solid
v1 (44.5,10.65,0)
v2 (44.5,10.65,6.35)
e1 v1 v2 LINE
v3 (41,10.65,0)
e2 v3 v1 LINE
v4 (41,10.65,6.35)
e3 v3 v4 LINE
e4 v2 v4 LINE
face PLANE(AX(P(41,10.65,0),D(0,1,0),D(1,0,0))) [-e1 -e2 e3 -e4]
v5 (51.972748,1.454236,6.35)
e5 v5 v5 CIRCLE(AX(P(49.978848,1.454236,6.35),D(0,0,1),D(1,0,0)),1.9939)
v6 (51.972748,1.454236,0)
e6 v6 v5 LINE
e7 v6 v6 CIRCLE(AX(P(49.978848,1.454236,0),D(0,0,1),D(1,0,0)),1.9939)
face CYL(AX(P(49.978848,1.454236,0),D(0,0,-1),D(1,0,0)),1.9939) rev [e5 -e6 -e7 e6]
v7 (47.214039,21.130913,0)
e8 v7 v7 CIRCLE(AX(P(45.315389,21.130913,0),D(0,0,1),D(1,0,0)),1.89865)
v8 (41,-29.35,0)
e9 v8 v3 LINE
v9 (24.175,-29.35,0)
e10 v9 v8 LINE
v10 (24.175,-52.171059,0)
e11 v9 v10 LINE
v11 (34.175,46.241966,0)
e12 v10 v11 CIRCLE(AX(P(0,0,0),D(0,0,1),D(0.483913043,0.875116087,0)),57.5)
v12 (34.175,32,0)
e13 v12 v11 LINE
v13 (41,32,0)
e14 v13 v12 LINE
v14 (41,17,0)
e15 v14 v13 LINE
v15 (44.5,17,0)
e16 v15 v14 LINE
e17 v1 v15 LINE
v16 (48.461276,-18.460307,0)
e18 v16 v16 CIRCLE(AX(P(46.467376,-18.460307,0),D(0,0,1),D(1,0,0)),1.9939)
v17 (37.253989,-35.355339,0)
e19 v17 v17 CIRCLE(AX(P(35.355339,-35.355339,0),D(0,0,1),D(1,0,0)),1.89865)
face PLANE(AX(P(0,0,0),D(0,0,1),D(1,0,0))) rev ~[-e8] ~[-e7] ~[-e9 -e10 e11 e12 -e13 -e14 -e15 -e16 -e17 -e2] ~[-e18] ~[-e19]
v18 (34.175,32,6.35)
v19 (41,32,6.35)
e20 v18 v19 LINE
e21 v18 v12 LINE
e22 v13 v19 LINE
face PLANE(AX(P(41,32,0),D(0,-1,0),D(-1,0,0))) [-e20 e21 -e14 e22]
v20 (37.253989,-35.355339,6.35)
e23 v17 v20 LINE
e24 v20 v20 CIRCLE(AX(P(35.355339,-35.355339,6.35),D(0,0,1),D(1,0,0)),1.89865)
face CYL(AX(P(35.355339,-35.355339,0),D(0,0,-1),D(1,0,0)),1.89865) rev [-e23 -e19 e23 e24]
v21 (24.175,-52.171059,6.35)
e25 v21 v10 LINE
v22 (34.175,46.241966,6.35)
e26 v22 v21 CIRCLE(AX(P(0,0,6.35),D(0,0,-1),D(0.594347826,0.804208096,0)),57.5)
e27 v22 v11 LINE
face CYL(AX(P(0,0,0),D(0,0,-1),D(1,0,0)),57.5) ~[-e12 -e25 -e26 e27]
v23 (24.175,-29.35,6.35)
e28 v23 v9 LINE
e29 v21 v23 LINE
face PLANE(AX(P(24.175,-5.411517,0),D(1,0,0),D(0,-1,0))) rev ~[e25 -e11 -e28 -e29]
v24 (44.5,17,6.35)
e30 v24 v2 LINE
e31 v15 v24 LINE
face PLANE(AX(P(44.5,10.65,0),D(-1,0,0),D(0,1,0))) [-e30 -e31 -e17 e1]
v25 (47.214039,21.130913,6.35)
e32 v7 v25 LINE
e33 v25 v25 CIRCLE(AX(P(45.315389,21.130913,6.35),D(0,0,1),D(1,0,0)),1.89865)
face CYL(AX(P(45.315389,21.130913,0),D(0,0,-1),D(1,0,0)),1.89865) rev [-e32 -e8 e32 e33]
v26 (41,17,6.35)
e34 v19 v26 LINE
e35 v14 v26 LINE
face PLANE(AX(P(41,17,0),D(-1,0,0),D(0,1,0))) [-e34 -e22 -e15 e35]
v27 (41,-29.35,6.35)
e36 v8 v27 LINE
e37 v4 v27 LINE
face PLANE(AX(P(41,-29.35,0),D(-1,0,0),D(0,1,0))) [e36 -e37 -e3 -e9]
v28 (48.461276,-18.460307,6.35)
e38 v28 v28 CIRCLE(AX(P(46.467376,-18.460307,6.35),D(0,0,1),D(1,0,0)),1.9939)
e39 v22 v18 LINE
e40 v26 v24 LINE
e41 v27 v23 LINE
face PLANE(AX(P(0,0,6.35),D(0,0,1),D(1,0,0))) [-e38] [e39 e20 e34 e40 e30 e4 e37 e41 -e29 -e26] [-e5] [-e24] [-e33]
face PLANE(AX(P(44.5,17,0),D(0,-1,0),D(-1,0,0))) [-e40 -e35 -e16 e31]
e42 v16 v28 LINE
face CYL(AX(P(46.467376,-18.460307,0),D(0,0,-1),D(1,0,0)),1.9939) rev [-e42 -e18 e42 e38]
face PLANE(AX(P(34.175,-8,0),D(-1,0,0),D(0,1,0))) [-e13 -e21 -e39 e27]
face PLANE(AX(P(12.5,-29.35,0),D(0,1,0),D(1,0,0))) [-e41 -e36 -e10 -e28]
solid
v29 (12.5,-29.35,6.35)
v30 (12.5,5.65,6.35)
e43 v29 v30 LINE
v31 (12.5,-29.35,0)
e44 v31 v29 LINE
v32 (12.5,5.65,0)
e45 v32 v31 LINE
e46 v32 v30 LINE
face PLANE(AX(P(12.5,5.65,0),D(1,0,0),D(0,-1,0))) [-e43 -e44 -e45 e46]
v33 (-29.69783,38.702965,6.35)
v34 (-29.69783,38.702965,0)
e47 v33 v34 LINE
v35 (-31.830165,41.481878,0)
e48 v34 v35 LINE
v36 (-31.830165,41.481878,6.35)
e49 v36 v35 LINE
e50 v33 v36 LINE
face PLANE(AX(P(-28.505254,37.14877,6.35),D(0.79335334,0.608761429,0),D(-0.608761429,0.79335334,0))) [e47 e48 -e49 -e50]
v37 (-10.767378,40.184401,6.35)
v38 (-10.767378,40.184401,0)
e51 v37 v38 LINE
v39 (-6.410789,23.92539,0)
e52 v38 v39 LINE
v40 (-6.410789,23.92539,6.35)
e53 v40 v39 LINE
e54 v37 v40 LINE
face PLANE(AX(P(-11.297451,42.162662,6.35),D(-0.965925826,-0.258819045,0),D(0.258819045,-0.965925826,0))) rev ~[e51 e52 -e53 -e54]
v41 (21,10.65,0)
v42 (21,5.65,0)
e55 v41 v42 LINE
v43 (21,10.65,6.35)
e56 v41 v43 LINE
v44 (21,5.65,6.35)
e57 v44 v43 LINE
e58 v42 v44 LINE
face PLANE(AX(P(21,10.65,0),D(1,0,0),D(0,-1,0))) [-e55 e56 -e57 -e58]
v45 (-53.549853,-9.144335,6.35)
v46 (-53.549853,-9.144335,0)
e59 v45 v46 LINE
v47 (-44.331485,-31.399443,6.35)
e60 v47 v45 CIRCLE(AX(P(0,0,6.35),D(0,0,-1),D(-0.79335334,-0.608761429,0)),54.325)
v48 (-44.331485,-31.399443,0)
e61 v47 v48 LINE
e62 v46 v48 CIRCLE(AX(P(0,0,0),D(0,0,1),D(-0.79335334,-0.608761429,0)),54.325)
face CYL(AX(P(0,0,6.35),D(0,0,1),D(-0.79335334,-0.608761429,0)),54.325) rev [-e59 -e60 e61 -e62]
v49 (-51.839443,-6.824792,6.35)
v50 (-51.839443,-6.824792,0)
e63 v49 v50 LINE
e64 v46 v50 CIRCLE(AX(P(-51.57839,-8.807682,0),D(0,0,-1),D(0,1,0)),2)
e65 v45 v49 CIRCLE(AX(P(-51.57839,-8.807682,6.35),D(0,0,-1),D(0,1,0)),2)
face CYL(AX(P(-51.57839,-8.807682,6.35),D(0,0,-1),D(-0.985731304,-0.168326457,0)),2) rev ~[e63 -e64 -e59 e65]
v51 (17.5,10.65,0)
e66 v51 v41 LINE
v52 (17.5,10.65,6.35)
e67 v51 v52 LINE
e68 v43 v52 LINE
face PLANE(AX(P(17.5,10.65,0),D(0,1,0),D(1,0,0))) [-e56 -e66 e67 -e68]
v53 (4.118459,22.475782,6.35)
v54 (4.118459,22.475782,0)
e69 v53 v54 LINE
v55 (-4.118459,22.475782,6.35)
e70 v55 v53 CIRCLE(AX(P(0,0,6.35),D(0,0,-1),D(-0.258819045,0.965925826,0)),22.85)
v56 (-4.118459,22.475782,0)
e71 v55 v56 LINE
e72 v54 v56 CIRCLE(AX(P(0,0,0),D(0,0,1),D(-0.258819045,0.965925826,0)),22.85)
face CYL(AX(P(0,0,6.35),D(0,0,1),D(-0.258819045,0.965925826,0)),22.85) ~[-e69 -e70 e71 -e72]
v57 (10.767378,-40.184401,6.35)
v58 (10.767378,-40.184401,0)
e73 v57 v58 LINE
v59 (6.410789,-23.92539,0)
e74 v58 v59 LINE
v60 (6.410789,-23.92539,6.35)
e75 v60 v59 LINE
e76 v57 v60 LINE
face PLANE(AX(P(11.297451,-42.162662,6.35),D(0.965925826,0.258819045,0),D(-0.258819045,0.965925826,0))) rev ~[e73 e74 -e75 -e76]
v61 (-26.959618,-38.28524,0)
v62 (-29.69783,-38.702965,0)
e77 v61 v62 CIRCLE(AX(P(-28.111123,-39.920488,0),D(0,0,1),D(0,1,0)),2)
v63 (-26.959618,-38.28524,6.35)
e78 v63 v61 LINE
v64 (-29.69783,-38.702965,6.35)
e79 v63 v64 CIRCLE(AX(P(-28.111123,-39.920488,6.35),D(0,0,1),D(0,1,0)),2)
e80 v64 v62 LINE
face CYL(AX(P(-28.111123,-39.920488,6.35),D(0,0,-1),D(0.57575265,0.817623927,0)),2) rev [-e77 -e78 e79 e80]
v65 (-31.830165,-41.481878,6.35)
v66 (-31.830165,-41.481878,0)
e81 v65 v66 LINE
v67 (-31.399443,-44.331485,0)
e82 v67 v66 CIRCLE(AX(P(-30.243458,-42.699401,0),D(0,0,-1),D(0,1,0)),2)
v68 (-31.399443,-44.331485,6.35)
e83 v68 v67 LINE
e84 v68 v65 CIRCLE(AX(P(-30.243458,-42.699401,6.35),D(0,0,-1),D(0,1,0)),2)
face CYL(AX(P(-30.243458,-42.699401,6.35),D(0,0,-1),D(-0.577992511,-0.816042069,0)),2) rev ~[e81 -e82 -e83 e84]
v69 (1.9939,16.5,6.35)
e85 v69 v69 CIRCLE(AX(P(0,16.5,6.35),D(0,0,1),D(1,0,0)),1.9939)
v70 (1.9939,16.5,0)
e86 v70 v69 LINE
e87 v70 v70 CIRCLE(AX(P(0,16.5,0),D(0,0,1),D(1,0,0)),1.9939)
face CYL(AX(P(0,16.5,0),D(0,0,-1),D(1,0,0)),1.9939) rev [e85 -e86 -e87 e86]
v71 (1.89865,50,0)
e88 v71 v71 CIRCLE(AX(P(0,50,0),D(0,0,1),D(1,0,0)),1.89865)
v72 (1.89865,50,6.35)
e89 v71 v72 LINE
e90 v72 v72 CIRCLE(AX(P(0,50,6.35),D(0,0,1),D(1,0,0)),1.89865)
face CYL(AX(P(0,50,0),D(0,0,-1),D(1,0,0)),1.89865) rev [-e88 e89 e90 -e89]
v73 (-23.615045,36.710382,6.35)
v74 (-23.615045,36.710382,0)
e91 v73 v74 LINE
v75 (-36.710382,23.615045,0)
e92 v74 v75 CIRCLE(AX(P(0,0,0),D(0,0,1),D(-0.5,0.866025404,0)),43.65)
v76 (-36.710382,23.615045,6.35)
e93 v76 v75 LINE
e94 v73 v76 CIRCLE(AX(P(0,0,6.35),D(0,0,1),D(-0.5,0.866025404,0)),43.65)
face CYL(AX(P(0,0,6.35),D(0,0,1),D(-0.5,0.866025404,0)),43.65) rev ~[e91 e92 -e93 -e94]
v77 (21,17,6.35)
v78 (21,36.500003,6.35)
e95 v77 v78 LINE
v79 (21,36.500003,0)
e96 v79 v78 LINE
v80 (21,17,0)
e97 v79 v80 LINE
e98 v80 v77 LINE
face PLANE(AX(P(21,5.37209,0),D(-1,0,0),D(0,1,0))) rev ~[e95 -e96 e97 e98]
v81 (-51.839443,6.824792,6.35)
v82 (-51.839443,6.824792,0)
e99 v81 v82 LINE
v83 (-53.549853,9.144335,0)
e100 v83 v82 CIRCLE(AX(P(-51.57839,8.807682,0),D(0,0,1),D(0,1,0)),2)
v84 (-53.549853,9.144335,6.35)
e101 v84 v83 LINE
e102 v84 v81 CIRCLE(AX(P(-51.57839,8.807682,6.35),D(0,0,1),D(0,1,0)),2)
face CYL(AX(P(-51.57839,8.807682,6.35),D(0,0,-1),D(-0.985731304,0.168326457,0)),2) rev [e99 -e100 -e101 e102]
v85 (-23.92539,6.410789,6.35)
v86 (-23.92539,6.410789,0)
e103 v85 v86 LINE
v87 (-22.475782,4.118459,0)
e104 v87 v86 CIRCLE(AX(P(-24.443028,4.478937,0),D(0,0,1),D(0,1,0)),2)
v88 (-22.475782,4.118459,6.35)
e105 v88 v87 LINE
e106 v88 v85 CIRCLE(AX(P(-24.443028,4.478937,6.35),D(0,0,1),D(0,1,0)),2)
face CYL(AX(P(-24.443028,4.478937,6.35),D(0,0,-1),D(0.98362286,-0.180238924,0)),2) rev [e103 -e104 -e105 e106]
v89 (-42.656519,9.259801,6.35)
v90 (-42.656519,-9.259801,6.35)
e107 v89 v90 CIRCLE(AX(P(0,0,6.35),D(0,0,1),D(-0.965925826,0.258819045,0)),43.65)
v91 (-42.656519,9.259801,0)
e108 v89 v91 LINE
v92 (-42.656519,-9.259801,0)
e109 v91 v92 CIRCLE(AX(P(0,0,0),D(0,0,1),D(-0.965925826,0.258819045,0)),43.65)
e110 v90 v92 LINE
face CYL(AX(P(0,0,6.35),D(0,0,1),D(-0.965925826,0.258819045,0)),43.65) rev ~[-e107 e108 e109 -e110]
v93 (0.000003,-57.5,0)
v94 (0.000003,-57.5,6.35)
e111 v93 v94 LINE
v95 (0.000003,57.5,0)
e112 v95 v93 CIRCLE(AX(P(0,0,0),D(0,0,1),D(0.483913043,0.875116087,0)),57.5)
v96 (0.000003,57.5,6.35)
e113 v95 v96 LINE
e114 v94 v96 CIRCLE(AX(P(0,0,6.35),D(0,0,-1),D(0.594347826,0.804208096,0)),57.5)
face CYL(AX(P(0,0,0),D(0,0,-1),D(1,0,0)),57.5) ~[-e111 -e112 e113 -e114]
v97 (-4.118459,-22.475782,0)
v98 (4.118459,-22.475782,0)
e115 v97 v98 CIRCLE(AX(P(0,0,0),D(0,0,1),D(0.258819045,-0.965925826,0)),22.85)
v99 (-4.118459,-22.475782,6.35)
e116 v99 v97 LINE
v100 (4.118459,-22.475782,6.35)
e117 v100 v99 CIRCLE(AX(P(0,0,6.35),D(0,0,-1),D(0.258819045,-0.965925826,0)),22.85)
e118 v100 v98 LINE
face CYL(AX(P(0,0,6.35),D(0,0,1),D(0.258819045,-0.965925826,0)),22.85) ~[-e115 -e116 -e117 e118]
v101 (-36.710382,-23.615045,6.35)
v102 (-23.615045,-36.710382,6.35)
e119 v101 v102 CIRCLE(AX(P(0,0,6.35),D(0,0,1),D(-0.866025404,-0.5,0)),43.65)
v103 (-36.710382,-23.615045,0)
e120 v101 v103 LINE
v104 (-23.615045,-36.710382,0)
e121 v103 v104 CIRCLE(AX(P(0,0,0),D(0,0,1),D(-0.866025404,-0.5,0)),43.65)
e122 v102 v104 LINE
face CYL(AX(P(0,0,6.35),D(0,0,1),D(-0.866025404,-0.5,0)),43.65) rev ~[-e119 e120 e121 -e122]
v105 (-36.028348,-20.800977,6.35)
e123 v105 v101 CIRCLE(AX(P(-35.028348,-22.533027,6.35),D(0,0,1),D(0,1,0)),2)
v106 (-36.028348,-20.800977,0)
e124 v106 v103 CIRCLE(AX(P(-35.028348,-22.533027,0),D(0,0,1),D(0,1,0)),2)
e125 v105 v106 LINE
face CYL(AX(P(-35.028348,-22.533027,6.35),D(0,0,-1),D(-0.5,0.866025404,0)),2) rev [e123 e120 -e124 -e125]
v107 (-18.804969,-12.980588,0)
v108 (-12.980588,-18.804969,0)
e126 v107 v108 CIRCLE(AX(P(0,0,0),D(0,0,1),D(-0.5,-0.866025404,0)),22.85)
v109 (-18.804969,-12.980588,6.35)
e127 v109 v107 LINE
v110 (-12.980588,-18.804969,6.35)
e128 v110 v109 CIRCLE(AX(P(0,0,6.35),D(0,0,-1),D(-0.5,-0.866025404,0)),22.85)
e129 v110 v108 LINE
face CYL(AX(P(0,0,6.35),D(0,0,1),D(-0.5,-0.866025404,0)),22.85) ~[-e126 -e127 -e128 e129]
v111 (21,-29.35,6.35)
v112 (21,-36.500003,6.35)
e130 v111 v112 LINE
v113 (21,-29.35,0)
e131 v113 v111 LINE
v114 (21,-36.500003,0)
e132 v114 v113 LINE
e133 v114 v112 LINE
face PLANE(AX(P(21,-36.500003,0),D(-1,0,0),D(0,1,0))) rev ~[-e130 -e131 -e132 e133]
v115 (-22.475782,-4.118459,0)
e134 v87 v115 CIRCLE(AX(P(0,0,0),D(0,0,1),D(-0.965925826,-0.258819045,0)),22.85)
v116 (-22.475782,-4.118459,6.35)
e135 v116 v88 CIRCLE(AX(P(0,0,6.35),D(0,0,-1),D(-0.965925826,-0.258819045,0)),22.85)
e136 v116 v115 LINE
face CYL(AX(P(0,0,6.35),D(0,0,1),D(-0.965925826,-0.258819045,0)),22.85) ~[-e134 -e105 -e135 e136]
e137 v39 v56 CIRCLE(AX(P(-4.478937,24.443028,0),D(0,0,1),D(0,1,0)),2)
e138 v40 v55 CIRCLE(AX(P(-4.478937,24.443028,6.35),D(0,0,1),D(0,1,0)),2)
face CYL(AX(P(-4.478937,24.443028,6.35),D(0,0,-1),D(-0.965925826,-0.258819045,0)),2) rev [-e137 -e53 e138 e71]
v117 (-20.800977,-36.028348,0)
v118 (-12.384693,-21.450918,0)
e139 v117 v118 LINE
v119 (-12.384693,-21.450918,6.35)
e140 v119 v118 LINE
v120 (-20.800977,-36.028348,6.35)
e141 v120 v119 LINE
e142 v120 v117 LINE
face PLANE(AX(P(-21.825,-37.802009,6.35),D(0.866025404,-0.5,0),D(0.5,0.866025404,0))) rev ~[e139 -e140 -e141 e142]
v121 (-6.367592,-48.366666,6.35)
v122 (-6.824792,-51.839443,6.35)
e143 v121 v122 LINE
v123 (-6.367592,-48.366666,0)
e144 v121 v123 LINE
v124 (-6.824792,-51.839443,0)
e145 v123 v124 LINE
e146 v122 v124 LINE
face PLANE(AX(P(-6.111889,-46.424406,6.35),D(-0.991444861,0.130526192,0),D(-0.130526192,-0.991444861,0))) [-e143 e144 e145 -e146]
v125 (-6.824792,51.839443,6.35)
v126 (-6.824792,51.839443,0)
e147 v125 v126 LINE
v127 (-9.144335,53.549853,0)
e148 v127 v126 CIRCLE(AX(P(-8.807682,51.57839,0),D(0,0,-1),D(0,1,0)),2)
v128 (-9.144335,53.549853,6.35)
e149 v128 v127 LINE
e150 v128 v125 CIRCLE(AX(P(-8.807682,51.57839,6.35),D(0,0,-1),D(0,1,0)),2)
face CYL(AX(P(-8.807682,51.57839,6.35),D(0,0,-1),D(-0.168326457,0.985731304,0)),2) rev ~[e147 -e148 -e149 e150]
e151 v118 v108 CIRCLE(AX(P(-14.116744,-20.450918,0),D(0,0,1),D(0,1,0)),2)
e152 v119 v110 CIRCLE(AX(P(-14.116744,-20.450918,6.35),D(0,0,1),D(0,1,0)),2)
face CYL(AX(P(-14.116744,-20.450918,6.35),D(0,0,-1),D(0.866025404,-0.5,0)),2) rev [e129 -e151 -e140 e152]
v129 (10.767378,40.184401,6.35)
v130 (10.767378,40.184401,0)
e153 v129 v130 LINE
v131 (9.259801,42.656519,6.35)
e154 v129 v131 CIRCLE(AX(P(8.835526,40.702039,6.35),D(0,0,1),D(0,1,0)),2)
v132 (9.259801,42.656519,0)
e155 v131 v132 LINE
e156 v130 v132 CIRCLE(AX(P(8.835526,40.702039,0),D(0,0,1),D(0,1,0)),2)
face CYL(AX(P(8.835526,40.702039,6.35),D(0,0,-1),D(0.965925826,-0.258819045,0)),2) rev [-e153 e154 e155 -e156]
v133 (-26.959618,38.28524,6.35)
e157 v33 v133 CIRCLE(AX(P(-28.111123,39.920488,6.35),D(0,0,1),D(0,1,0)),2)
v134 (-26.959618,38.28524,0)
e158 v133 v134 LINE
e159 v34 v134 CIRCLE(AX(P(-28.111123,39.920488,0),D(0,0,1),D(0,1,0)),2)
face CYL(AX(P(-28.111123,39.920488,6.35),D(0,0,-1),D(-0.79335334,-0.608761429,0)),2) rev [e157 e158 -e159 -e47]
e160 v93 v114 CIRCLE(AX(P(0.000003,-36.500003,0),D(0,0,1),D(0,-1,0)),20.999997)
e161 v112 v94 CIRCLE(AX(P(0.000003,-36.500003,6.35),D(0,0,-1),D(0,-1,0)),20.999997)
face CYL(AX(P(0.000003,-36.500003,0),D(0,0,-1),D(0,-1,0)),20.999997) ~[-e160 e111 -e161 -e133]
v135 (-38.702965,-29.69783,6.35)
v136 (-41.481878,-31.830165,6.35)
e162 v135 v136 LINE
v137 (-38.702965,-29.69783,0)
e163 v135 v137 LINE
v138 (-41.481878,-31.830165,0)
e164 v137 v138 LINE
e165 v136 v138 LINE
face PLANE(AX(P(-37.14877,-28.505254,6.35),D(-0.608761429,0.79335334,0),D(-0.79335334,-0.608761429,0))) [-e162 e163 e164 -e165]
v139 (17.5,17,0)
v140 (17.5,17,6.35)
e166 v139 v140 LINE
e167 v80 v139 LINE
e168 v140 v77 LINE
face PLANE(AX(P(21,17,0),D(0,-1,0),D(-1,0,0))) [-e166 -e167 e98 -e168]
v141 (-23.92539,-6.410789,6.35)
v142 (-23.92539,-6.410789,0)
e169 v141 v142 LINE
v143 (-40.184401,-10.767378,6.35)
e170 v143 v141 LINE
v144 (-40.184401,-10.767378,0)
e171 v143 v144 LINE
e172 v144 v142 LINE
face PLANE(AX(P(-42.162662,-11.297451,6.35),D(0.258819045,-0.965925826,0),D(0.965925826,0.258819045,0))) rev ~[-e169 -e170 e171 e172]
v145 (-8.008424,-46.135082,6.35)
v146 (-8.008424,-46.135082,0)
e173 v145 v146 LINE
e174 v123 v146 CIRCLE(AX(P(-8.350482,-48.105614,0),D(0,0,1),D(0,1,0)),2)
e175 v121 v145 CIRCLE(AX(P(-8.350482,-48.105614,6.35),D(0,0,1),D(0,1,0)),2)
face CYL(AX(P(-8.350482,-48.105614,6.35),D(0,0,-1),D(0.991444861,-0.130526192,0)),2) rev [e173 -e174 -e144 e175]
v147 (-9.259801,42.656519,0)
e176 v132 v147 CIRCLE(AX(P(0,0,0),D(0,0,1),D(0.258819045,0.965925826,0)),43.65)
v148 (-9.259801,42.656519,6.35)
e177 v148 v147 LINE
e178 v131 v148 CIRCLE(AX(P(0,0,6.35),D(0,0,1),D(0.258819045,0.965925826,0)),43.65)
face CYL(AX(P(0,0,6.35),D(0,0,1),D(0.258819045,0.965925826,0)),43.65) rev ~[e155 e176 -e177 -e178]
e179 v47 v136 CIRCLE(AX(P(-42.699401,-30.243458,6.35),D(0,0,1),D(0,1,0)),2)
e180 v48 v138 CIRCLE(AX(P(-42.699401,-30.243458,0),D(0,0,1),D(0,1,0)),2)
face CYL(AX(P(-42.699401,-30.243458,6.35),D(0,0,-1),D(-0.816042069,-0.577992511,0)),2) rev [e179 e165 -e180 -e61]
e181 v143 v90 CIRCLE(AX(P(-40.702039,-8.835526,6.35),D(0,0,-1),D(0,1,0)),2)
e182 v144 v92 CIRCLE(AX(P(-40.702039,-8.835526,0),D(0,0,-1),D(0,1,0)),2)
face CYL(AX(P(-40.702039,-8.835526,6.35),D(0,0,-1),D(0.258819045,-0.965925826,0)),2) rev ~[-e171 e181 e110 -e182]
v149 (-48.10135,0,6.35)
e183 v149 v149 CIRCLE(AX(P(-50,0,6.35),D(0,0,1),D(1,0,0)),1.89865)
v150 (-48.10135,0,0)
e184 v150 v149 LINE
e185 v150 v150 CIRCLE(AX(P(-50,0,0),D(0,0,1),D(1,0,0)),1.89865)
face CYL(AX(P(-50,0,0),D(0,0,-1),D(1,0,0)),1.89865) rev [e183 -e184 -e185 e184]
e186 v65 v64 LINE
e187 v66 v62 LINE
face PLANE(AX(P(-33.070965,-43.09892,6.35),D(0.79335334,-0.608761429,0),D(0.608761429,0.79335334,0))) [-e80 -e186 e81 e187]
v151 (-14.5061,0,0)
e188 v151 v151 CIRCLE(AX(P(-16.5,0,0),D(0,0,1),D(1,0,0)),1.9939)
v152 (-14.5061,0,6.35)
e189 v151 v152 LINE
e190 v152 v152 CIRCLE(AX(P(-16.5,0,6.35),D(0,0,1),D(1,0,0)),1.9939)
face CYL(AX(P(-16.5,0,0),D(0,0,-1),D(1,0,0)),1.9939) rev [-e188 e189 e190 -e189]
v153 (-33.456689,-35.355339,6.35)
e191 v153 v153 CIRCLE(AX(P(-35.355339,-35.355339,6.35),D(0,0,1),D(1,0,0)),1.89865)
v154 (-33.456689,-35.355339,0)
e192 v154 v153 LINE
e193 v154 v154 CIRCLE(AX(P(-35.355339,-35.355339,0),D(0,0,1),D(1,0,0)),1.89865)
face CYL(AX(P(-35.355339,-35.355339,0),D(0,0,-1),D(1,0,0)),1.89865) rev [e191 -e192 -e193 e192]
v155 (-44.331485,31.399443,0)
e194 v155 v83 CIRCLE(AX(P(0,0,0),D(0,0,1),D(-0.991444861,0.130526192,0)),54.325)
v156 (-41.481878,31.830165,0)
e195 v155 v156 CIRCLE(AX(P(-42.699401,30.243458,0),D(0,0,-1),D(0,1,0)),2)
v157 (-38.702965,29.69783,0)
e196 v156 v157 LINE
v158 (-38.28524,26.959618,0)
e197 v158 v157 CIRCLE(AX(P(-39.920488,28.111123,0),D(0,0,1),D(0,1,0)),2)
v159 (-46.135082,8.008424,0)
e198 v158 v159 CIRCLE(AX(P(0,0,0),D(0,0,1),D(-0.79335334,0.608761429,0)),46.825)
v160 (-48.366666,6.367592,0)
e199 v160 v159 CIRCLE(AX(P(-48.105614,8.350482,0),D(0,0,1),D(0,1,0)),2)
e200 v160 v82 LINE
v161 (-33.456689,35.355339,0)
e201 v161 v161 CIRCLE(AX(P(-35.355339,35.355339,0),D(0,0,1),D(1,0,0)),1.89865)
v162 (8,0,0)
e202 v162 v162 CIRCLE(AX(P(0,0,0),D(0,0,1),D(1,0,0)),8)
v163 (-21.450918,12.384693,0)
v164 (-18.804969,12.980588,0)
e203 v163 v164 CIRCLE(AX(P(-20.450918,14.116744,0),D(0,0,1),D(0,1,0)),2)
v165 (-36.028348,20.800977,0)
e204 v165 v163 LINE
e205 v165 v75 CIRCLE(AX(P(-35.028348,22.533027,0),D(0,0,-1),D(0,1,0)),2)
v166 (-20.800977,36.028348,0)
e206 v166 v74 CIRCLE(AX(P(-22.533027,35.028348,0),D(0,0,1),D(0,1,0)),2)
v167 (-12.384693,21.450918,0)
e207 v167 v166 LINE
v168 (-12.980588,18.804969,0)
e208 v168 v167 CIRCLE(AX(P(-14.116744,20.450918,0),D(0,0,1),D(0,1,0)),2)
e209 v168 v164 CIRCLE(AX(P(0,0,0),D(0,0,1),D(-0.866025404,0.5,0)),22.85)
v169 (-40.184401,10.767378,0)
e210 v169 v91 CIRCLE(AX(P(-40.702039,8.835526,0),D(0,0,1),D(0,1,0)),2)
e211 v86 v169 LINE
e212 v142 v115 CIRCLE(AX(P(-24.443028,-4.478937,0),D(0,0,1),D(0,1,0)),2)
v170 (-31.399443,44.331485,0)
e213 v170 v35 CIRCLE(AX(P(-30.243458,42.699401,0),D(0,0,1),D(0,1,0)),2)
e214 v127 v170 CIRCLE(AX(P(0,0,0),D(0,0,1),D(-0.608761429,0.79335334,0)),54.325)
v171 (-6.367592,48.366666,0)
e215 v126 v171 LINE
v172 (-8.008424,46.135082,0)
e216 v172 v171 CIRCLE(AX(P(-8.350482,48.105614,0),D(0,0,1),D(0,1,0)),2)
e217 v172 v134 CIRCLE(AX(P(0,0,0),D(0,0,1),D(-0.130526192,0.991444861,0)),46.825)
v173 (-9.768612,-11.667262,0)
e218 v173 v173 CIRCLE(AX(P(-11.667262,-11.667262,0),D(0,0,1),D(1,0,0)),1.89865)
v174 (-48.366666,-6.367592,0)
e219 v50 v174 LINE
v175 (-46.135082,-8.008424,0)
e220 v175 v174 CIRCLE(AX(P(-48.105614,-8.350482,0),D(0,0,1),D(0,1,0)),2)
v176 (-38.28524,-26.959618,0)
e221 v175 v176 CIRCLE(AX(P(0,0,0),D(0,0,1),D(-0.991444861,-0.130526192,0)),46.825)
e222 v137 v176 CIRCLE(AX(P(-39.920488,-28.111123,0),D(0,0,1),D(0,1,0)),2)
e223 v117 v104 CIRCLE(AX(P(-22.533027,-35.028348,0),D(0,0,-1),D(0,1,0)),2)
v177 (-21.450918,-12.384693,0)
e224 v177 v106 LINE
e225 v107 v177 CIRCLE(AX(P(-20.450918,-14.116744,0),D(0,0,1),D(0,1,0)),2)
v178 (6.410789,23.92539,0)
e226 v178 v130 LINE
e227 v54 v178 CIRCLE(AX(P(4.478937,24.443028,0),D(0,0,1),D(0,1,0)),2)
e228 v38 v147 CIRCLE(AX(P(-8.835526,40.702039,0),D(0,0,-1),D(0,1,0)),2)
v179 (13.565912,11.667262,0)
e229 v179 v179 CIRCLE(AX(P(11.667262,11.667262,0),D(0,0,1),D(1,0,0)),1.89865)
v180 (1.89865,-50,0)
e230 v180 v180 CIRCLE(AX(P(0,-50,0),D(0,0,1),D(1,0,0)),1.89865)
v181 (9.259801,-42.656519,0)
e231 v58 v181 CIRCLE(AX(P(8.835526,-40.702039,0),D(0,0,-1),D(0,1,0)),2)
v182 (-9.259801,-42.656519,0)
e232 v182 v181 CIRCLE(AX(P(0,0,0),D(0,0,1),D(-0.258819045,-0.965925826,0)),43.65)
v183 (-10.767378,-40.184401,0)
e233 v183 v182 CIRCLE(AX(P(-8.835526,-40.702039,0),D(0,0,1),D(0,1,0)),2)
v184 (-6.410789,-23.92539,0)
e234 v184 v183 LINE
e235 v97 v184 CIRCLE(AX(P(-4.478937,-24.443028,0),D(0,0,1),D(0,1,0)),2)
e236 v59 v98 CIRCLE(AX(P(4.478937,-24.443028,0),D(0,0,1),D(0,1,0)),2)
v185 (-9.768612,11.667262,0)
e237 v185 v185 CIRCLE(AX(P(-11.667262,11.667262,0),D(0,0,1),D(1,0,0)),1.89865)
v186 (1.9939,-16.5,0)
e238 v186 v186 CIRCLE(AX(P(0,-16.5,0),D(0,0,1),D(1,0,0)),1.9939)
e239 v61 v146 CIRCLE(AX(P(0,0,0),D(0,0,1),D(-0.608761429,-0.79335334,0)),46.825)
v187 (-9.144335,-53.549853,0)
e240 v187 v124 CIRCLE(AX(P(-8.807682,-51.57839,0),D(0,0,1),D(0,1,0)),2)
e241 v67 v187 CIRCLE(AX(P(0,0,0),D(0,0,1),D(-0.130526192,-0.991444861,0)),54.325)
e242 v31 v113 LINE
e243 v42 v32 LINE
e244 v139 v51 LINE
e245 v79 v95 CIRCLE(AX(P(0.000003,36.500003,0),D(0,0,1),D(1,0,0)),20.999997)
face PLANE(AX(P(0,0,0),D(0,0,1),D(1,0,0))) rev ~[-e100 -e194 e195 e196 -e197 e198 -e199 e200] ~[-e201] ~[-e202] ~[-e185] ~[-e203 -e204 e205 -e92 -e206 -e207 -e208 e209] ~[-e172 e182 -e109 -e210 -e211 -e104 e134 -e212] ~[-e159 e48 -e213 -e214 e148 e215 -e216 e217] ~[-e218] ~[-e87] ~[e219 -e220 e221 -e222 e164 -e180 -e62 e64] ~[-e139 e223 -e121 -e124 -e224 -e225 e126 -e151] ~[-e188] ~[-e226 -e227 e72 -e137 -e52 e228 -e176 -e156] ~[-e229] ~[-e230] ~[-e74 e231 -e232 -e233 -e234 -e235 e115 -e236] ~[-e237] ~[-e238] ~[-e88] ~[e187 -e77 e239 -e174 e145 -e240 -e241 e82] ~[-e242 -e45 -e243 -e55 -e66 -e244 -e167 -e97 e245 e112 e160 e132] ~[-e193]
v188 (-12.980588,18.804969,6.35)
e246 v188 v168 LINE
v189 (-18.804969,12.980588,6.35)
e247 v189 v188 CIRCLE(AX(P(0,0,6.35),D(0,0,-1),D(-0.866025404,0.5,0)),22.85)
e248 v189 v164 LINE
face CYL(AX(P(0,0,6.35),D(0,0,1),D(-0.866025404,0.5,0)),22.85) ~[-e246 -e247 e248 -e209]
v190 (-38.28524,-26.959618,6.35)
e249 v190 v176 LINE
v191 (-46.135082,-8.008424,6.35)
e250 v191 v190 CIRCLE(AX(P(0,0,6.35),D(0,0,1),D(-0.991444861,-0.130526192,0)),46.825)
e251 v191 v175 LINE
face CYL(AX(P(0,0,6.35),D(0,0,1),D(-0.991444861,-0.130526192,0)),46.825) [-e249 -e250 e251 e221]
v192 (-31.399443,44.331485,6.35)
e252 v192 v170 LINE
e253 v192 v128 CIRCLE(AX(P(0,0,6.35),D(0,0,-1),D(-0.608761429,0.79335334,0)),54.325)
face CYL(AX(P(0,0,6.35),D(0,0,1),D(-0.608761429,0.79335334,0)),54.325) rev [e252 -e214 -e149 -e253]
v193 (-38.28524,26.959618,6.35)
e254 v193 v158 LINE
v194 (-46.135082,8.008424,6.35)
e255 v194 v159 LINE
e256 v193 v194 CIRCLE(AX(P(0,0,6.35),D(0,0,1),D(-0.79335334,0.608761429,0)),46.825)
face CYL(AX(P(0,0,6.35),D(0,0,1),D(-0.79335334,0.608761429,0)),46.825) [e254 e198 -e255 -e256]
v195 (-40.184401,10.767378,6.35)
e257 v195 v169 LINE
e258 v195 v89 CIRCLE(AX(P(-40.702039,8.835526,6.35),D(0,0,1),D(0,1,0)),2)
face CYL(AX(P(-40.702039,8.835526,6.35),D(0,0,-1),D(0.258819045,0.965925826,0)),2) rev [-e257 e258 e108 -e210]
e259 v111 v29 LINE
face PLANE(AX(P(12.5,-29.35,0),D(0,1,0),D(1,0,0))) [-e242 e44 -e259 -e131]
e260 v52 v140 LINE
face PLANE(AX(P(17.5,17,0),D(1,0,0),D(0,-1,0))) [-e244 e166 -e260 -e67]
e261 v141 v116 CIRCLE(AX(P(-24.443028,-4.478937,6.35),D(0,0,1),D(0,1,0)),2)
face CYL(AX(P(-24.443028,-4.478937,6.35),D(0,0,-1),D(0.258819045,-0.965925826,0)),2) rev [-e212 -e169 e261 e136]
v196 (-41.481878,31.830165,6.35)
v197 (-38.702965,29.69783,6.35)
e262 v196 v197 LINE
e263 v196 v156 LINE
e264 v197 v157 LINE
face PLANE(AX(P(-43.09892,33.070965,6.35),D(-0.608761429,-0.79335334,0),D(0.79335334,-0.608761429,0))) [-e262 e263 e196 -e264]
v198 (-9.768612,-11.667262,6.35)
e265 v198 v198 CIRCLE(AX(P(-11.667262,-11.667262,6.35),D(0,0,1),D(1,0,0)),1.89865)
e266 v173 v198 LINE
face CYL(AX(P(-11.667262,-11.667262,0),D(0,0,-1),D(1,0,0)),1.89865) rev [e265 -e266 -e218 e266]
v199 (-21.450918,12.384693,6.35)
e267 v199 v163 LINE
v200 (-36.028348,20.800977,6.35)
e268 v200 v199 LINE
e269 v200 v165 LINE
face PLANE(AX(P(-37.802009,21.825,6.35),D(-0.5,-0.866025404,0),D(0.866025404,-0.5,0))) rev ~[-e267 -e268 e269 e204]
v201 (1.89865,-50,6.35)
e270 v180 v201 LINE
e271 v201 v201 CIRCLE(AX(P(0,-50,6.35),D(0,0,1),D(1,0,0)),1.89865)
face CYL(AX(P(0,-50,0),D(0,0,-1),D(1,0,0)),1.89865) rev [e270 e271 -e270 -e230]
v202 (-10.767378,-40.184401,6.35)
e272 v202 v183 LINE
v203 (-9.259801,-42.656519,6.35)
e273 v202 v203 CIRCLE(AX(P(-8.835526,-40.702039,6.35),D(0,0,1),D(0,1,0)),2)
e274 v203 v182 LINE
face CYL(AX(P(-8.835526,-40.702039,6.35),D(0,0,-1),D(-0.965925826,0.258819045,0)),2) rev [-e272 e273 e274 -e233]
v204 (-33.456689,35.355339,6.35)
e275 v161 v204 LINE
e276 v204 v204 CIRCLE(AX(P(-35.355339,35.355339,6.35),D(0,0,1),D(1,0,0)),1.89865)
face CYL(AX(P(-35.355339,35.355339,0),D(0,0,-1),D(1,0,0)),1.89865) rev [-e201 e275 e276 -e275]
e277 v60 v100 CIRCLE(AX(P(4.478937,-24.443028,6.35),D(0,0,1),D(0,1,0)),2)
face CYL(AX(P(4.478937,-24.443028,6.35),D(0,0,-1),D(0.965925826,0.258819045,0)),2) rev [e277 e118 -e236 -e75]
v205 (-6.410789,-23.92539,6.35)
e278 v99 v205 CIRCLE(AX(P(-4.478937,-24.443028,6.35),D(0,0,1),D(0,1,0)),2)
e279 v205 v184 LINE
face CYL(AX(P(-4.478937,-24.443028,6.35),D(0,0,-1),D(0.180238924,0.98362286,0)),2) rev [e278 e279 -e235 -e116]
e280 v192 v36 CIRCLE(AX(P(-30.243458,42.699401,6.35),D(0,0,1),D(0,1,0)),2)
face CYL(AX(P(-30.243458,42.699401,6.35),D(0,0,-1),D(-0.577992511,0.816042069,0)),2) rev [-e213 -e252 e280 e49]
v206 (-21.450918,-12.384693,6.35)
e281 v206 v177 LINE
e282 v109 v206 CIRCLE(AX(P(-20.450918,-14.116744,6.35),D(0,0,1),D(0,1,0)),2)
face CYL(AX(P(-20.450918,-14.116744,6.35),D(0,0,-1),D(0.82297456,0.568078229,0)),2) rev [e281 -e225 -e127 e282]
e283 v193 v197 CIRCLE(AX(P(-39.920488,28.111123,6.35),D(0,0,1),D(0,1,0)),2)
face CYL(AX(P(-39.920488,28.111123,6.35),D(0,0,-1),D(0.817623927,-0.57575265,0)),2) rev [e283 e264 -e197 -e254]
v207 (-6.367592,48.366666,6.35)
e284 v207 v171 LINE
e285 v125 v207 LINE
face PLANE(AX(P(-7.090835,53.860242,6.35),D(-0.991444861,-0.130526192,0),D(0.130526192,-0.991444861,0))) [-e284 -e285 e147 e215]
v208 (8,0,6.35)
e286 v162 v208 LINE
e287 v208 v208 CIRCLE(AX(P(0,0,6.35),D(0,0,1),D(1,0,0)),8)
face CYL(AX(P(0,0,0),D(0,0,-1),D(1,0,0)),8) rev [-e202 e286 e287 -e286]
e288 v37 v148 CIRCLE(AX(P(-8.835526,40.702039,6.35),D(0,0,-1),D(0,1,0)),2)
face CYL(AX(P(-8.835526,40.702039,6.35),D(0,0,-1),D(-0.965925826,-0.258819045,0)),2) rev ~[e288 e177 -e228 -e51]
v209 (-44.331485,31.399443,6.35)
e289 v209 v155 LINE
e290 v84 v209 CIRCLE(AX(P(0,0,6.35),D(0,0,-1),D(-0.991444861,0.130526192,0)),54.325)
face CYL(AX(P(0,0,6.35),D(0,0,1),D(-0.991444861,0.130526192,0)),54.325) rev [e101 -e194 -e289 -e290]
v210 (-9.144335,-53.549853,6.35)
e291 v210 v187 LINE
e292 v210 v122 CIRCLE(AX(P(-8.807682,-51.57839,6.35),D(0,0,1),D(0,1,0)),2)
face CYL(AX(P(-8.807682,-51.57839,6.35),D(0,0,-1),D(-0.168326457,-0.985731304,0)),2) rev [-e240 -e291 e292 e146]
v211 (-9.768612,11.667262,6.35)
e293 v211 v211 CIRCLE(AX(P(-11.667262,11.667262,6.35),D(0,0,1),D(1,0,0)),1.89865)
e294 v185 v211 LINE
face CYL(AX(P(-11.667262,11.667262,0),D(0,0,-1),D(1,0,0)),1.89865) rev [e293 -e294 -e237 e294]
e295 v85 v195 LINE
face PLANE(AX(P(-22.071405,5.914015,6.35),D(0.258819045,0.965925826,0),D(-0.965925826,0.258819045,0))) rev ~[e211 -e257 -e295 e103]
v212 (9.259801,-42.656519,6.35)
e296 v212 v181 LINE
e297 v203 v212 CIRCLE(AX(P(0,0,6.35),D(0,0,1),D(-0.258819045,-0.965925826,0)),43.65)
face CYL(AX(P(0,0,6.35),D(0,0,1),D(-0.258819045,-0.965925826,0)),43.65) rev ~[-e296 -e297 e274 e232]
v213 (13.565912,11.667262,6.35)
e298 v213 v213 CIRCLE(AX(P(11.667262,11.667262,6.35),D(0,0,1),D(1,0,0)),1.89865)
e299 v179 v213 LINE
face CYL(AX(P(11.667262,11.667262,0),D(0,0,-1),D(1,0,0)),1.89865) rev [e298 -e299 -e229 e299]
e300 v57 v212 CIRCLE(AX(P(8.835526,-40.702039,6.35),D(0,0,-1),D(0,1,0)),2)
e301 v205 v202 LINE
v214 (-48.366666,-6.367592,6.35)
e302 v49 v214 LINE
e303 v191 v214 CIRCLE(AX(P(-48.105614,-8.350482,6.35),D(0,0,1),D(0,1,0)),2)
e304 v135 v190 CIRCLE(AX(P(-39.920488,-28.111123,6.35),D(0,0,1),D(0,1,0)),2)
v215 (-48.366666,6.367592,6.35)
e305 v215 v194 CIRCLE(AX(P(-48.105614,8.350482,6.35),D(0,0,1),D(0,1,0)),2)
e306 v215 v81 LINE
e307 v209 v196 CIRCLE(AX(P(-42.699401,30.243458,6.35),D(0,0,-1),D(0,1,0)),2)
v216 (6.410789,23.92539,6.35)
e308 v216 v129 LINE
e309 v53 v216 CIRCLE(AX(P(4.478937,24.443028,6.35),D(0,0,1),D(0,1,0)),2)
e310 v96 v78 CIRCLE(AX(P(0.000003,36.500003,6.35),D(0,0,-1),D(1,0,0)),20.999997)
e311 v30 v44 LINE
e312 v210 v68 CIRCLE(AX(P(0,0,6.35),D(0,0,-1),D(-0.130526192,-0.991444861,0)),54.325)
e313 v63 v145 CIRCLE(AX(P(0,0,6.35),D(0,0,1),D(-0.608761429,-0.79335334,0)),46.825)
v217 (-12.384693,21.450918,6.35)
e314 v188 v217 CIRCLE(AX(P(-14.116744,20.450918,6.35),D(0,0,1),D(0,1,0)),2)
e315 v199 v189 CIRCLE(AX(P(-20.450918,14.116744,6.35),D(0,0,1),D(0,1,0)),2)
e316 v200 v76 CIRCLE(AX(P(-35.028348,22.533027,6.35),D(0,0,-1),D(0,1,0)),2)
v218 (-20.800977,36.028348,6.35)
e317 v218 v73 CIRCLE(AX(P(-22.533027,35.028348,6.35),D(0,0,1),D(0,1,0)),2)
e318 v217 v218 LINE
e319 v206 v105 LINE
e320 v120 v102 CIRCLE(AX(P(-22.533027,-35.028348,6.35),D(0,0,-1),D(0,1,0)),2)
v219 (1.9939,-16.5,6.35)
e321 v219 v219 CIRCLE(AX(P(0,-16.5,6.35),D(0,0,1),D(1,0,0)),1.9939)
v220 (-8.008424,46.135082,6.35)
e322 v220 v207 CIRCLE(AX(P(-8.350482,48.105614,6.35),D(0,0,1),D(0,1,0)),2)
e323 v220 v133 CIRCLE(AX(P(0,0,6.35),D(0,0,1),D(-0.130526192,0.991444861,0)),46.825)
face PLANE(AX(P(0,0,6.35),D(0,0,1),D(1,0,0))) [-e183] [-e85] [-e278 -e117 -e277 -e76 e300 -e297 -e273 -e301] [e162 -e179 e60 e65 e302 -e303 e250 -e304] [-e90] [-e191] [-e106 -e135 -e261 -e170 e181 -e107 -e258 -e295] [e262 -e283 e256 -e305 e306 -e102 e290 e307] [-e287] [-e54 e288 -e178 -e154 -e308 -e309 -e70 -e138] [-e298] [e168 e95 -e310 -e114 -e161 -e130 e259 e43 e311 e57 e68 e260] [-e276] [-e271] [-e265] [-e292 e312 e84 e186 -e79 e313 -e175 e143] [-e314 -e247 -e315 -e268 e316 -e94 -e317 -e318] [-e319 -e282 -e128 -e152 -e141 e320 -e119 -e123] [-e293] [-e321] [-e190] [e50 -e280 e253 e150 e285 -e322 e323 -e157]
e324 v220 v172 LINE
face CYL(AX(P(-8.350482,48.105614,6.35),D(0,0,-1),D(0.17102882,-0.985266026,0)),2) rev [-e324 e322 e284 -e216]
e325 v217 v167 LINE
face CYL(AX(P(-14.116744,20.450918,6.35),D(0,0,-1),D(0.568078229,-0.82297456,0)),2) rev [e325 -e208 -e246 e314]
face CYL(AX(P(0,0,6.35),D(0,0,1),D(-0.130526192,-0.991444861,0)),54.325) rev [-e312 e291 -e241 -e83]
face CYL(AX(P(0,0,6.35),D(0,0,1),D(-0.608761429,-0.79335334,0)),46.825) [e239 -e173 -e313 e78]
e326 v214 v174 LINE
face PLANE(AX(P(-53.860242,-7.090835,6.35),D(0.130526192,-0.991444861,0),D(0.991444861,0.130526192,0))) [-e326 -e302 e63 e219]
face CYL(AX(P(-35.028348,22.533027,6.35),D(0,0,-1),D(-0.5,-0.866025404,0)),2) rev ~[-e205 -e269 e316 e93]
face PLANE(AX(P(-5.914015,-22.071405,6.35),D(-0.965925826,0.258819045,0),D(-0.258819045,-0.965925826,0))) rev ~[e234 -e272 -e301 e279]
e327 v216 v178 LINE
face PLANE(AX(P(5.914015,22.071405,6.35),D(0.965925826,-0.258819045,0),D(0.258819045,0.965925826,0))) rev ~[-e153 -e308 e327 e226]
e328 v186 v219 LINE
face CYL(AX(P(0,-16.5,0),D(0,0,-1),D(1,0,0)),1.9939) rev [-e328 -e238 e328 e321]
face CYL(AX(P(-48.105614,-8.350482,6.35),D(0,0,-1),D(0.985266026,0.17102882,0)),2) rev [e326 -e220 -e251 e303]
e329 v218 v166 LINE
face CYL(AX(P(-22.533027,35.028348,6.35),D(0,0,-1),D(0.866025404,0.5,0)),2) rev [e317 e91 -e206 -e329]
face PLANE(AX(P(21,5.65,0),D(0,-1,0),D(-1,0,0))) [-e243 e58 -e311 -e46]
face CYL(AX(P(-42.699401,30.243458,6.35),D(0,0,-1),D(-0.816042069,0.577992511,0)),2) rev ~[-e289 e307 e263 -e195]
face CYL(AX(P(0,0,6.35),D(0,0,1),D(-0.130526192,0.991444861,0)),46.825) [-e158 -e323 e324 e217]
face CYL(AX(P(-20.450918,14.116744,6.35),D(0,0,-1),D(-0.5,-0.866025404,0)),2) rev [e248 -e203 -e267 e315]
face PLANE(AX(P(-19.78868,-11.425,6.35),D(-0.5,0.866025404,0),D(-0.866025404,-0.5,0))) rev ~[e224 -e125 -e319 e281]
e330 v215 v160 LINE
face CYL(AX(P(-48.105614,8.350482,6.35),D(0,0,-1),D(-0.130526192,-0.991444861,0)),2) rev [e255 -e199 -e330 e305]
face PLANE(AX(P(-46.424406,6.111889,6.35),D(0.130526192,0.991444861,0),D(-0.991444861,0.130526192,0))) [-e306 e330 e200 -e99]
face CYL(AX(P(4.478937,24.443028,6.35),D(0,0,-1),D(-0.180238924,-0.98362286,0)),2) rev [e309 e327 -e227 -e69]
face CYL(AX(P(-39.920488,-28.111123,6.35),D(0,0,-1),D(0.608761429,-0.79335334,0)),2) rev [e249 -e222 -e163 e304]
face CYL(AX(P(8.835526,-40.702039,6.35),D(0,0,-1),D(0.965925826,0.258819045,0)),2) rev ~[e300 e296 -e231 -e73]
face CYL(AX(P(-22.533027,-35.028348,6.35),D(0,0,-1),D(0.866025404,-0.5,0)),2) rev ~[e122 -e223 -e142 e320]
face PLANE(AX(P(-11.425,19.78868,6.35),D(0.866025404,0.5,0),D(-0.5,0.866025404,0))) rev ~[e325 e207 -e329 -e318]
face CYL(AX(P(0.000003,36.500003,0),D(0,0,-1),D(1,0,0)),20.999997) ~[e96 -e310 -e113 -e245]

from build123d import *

# Parameters (mm, degrees)
SKETCH1_R                = 57.5
SKETCH1_R_2              = 1.89865
SKETCH1_R_3              = 1.9939
SKETCH1_R_4              = 8
BOSS_EXTRUDE1_DEPTH      = 6.35
CUT_EXTRUDE1_DEPTH       = 82.564836173
SKETCH3_W                = 6.35
SKETCH3_H                = 80
CUT_EXTRUDE3_DEPTH       = 82.564836173
CUT_EXTRUDE5_DEPTH       = 82.564836173
CUT_EXTRUDE6_DEPTH       = 82.564836173
CUT_EXTRUDE7_DEPTH       = 82.564836173
FILLET1_R                = 2
CIRPATTERN1_COUNT        = 8
FILLET1_OF_CIRPATTERN1_R = 2
CUT_EXTRUDE8_DEPTH       = 82.564836173
FILLET2_R                = 2
CIRPATTERN2_COUNT        = 8
FILLET2_OF_CIRPATTERN2_R = 2


with BuildPart() as part:
    # Sketch1 → Boss-Extrude1 (new body)
    with BuildSketch(Plane.XY):
        Circle(SKETCH1_R)
        with Locations((45.315389352, 21.130913087)):
            Circle(SKETCH1_R_2, mode=Mode.SUBTRACT)
        with Locations((49.978847504, 1.454235937)):
            Circle(SKETCH1_R_3, mode=Mode.SUBTRACT)
        Circle(SKETCH1_R_4, mode=Mode.SUBTRACT)
        with Locations((46.467376211, -18.460307366)):
            Circle(SKETCH1_R_3, mode=Mode.SUBTRACT)
        with Locations((0, -16.5)):
            Circle(SKETCH1_R_3, mode=Mode.SUBTRACT)
        with Locations((0, -50)):
            Circle(SKETCH1_R_2, mode=Mode.SUBTRACT)
        with Locations((-16.5, 0)):
            Circle(SKETCH1_R_3, mode=Mode.SUBTRACT)
        with Locations((-11.66726189, -11.66726189)):
            Circle(SKETCH1_R_2, mode=Mode.SUBTRACT)
        with Locations((0, 16.5)):
            Circle(SKETCH1_R_3, mode=Mode.SUBTRACT)
        with Locations((-11.66726189, 11.66726189)):
            Circle(SKETCH1_R_2, mode=Mode.SUBTRACT)
        with Locations((11.66726189, 11.66726189)):
            Circle(SKETCH1_R_2, mode=Mode.SUBTRACT)
        with Locations((-35.355339059, -35.355339059)):
            Circle(SKETCH1_R_2, mode=Mode.SUBTRACT)
        with Locations((-50, 0)):
            Circle(SKETCH1_R_2, mode=Mode.SUBTRACT)
        with Locations((-35.355339059, 35.355339059)):
            Circle(SKETCH1_R_2, mode=Mode.SUBTRACT)
        with Locations((0, 50)):
            Circle(SKETCH1_R_2, mode=Mode.SUBTRACT)
        with Locations((35.355339059, -35.355339059)):
            Circle(SKETCH1_R_2, mode=Mode.SUBTRACT)
    extrude(amount=BOSS_EXTRUDE1_DEPTH)

    # Sketch2 → Cut-Extrude1 (cut, through all)
    with BuildSketch(Plane.XY):
        Polygon((12.5, -29.35), (41, -29.35), (41, 10.65), (44.5, 10.65), (44.5, 17), (41, 17), (41, 32), (21, 32), (21, 17), (17.5, 17), (17.5, 10.65), (21, 10.65), (21, 5.65), (12.5, 5.65), align=None)
    extrude(amount=CUT_EXTRUDE1_DEPTH, mode=Mode.SUBTRACT)

    # Sketch3 → Cut-Extrude3 (cut, through all)
    with BuildSketch(Plane(origin=(0, 0, 0), x_dir=(-1, 0, 0), z_dir=(0, 0, -1))):
        with Locations((-31, 32)):
            Rectangle(SKETCH3_W, SKETCH3_H)
    extrude(amount=-CUT_EXTRUDE3_DEPTH, mode=Mode.SUBTRACT)

    # Sketch4 → Cut-Extrude5 (cut, through all)
    with BuildSketch(Plane.XY):
        with BuildLine():
            Line((21, -36.500002949), (21, -5.372089924))
            Line((21, -5.372089924), (24.175, -5.411516926))
            Line((24.175, -5.411516926), (24.175, -57.5))
            Line((24.175, -57.5), (2.949e-06, -57.5))
            ThreePointArc((2.949e-06, -57.5), (14.849243269, -51.349243269), (21, -36.500002949))
        make_face()
        with BuildLine():
            Line((2.949e-06, 57.5), (24.175, 57.5))
            Line((24.175, 57.5), (24.175, 5.411516926))
            Line((24.175, 5.411516926), (21, 5.372089924))
            Line((21, 5.372089924), (21, 36.500002949))
            ThreePointArc((21, 36.500002949), (14.849243269, 51.349243269), (2.949e-06, 57.5))
        make_face()
    extrude(amount=CUT_EXTRUDE5_DEPTH, mode=Mode.SUBTRACT)


with BuildPart() as cut_extrude5_piece_1:
    # of the separate pieces the step leaves, piece 1, a body of its own (cut_extrude5_pieces)
    add(part.part.solids().sort_by_distance((2.949e-06, 57.5, 0))[0])

    # Sketch6 → Cut-Extrude7 (cut, through all)
    with BuildSketch(Plane.XY.offset(6.35)):
        with BuildLine():
            Line((-42.162662318, -11.297451319), (-22.071405131, -5.914015181))
            ThreePointArc((-22.071405131, -5.914015181), (-22.85, 0), (-22.071405131, 5.914015181))
            Line((-22.071405131, 5.914015181), (-42.162662318, 11.297451319))
            ThreePointArc((-42.162662318, 11.297451319), (-43.65, 0), (-42.162662318, -11.297451319))
        make_face()
    cut_extrude7 = extrude(amount=-CUT_EXTRUDE7_DEPTH, mode=Mode.SUBTRACT)

    # Fillet1
    fillet1_edges = [cut_extrude5_piece_1.edges().sort_by_distance(p)[0] for p in [
        (-22.071405131, 5.914015181, 3.175),
        (-22.071405131, -5.914015181, 3.175),
        (-42.162662318, -11.297451319, 3.175),
        (-42.162662318, 11.297451319, 3.175),
    ]]
    fillet(fillet1_edges, radius=FILLET1_R)

    # CirPattern1: Cut-Extrude7 ×8 about axis, 3 skipped
    cirpattern1_axis = Axis((0, 0, 0), (0, 0, -1))
    add([cut_extrude7.rotate(cirpattern1_axis, i * 360 / CIRPATTERN1_COUNT) for i in range(1, CIRPATTERN1_COUNT) if i not in (3, 4, 5)], mode=Mode.SUBTRACT)

    # Fillet1 of CirPattern1
    fillet1_of_cirpattern1_edges = [cut_extrude5_piece_1.edges().sort_by_distance(p)[0] for p in [
        (-11.425, 19.788680476, 3.175),
        (-19.788680476, 11.425, 3.175),
        (-37.802008875, 21.825, 3.175),
        (-21.825, 37.802008875, 3.175),
        (5.914015181, 22.071405131, 3.175),
        (-5.914015181, 22.071405131, 3.175),
        (-11.297451319, 42.162662318, 3.175),
        (11.297451319, 42.162662318, 3.175),
        (-5.914015181, -22.071405131, 3.175),
        (5.914015181, -22.071405131, 3.175),
        (11.297451319, -42.162662318, 3.175),
        (-11.297451319, -42.162662318, 3.175),
        (-19.788680476, -11.425, 3.175),
        (-11.425, -19.788680476, 3.175),
        (-21.825, -37.802008875, 3.175),
        (-37.802008875, -21.825, 3.175),
    ]]
    fillet(fillet1_of_cirpattern1_edges, radius=FILLET1_OF_CIRPATTERN1_R)

    # Sketch7 → Cut-Extrude8 (cut, through all)
    with BuildSketch(Plane.XY.offset(6.35)):
        with BuildLine():
            Line((-43.098920211, 33.070964631), (-37.148770159, 28.505253913))
            ThreePointArc((-37.148770159, 28.505253913), (-43.26065911, 17.91915172), (-46.424405634, 6.111888951))
            Line((-46.424405634, 6.111888951), (-53.860242094, 7.090835392))
            ThreePointArc((-53.860242094, 7.090835392), (-50.189755604, 20.789277463), (-43.098920211, 33.070964631))
        make_face()
    cut_extrude8 = extrude(amount=-CUT_EXTRUDE8_DEPTH, mode=Mode.SUBTRACT)

    # Fillet2
    fillet2_edges = [cut_extrude5_piece_1.edges().sort_by_distance(p)[0] for p in [
        (-53.860242094, 7.090835392, 3.175),
        (-43.098920211, 33.070964631, 3.175),
        (-37.148770159, 28.505253913, 3.175),
        (-46.424405634, 6.111888951, 3.175),
    ]]
    fillet(fillet2_edges, radius=FILLET2_R)

    # CirPattern2: Cut-Extrude8 ×8 about axis, 4 skipped
    cirpattern2_axis = Axis((0, 0, 0), (0, 0, -1))
    add([cut_extrude8.rotate(cirpattern2_axis, i * 360 / CIRPATTERN2_COUNT) for i in range(1, CIRPATTERN2_COUNT) if i not in (2, 3, 4, 5)], mode=Mode.SUBTRACT)

    # Fillet2 of CirPattern2
    fillet2_of_cirpattern2_edges = [cut_extrude5_piece_1.edges().sort_by_distance(p)[0] for p in [
        (-33.070964631, 43.098920211, 3.175),
        (-7.090835392, 53.860242094, 3.175),
        (-6.111888951, 46.424405634, 3.175),
        (-28.505253913, 37.148770159, 3.175),
        (-7.090835392, -53.860242094, 3.175),
        (-33.070964631, -43.098920211, 3.175),
        (-28.505253913, -37.148770159, 3.175),
        (-6.111888951, -46.424405634, 3.175),
        (-43.098920211, -33.070964631, 3.175),
        (-53.860242094, -7.090835392, 3.175),
        (-46.424405634, -6.111888951, 3.175),
        (-37.148770159, -28.505253913, 3.175),
    ]]
    fillet(fillet2_of_cirpattern2_edges, radius=FILLET2_OF_CIRPATTERN2_R)


with BuildPart() as cut_extrude5_piece_2:
    # of the separate pieces the step leaves, piece 2, a body of its own (cut_extrude5_pieces)
    add(part.part.solids().sort_by_distance((24.175, -52.171058787, 0))[0])


with BuildPart() as cut_extrude5_piece_3:
    # of the separate pieces the step leaves, piece 3, a body of its own (cut_extrude5_pieces)
    add(part.part.solids().sort_by_distance((24.175, 52.171058787, 6.35))[0])

    # Sketch5 → Cut-Extrude6 (cut, through all)
    with BuildSketch(Plane.XY.offset(6.35)):
        with BuildLine():
            Line((24.175, 52.171058787), (24.175, 32))
            Line((24.175, 32), (27.825, 32))
            Line((27.825, 32), (27.825, 50.319175023))
            ThreePointArc((27.825, 50.319175023), (26.016482629, 51.277603607), (24.175, 52.171058787))
        make_face()
    extrude(amount=-CUT_EXTRUDE6_DEPTH, mode=Mode.SUBTRACT)


solid = Compound([cut_extrude5_piece_1.part, cut_extrude5_piece_2.part])
